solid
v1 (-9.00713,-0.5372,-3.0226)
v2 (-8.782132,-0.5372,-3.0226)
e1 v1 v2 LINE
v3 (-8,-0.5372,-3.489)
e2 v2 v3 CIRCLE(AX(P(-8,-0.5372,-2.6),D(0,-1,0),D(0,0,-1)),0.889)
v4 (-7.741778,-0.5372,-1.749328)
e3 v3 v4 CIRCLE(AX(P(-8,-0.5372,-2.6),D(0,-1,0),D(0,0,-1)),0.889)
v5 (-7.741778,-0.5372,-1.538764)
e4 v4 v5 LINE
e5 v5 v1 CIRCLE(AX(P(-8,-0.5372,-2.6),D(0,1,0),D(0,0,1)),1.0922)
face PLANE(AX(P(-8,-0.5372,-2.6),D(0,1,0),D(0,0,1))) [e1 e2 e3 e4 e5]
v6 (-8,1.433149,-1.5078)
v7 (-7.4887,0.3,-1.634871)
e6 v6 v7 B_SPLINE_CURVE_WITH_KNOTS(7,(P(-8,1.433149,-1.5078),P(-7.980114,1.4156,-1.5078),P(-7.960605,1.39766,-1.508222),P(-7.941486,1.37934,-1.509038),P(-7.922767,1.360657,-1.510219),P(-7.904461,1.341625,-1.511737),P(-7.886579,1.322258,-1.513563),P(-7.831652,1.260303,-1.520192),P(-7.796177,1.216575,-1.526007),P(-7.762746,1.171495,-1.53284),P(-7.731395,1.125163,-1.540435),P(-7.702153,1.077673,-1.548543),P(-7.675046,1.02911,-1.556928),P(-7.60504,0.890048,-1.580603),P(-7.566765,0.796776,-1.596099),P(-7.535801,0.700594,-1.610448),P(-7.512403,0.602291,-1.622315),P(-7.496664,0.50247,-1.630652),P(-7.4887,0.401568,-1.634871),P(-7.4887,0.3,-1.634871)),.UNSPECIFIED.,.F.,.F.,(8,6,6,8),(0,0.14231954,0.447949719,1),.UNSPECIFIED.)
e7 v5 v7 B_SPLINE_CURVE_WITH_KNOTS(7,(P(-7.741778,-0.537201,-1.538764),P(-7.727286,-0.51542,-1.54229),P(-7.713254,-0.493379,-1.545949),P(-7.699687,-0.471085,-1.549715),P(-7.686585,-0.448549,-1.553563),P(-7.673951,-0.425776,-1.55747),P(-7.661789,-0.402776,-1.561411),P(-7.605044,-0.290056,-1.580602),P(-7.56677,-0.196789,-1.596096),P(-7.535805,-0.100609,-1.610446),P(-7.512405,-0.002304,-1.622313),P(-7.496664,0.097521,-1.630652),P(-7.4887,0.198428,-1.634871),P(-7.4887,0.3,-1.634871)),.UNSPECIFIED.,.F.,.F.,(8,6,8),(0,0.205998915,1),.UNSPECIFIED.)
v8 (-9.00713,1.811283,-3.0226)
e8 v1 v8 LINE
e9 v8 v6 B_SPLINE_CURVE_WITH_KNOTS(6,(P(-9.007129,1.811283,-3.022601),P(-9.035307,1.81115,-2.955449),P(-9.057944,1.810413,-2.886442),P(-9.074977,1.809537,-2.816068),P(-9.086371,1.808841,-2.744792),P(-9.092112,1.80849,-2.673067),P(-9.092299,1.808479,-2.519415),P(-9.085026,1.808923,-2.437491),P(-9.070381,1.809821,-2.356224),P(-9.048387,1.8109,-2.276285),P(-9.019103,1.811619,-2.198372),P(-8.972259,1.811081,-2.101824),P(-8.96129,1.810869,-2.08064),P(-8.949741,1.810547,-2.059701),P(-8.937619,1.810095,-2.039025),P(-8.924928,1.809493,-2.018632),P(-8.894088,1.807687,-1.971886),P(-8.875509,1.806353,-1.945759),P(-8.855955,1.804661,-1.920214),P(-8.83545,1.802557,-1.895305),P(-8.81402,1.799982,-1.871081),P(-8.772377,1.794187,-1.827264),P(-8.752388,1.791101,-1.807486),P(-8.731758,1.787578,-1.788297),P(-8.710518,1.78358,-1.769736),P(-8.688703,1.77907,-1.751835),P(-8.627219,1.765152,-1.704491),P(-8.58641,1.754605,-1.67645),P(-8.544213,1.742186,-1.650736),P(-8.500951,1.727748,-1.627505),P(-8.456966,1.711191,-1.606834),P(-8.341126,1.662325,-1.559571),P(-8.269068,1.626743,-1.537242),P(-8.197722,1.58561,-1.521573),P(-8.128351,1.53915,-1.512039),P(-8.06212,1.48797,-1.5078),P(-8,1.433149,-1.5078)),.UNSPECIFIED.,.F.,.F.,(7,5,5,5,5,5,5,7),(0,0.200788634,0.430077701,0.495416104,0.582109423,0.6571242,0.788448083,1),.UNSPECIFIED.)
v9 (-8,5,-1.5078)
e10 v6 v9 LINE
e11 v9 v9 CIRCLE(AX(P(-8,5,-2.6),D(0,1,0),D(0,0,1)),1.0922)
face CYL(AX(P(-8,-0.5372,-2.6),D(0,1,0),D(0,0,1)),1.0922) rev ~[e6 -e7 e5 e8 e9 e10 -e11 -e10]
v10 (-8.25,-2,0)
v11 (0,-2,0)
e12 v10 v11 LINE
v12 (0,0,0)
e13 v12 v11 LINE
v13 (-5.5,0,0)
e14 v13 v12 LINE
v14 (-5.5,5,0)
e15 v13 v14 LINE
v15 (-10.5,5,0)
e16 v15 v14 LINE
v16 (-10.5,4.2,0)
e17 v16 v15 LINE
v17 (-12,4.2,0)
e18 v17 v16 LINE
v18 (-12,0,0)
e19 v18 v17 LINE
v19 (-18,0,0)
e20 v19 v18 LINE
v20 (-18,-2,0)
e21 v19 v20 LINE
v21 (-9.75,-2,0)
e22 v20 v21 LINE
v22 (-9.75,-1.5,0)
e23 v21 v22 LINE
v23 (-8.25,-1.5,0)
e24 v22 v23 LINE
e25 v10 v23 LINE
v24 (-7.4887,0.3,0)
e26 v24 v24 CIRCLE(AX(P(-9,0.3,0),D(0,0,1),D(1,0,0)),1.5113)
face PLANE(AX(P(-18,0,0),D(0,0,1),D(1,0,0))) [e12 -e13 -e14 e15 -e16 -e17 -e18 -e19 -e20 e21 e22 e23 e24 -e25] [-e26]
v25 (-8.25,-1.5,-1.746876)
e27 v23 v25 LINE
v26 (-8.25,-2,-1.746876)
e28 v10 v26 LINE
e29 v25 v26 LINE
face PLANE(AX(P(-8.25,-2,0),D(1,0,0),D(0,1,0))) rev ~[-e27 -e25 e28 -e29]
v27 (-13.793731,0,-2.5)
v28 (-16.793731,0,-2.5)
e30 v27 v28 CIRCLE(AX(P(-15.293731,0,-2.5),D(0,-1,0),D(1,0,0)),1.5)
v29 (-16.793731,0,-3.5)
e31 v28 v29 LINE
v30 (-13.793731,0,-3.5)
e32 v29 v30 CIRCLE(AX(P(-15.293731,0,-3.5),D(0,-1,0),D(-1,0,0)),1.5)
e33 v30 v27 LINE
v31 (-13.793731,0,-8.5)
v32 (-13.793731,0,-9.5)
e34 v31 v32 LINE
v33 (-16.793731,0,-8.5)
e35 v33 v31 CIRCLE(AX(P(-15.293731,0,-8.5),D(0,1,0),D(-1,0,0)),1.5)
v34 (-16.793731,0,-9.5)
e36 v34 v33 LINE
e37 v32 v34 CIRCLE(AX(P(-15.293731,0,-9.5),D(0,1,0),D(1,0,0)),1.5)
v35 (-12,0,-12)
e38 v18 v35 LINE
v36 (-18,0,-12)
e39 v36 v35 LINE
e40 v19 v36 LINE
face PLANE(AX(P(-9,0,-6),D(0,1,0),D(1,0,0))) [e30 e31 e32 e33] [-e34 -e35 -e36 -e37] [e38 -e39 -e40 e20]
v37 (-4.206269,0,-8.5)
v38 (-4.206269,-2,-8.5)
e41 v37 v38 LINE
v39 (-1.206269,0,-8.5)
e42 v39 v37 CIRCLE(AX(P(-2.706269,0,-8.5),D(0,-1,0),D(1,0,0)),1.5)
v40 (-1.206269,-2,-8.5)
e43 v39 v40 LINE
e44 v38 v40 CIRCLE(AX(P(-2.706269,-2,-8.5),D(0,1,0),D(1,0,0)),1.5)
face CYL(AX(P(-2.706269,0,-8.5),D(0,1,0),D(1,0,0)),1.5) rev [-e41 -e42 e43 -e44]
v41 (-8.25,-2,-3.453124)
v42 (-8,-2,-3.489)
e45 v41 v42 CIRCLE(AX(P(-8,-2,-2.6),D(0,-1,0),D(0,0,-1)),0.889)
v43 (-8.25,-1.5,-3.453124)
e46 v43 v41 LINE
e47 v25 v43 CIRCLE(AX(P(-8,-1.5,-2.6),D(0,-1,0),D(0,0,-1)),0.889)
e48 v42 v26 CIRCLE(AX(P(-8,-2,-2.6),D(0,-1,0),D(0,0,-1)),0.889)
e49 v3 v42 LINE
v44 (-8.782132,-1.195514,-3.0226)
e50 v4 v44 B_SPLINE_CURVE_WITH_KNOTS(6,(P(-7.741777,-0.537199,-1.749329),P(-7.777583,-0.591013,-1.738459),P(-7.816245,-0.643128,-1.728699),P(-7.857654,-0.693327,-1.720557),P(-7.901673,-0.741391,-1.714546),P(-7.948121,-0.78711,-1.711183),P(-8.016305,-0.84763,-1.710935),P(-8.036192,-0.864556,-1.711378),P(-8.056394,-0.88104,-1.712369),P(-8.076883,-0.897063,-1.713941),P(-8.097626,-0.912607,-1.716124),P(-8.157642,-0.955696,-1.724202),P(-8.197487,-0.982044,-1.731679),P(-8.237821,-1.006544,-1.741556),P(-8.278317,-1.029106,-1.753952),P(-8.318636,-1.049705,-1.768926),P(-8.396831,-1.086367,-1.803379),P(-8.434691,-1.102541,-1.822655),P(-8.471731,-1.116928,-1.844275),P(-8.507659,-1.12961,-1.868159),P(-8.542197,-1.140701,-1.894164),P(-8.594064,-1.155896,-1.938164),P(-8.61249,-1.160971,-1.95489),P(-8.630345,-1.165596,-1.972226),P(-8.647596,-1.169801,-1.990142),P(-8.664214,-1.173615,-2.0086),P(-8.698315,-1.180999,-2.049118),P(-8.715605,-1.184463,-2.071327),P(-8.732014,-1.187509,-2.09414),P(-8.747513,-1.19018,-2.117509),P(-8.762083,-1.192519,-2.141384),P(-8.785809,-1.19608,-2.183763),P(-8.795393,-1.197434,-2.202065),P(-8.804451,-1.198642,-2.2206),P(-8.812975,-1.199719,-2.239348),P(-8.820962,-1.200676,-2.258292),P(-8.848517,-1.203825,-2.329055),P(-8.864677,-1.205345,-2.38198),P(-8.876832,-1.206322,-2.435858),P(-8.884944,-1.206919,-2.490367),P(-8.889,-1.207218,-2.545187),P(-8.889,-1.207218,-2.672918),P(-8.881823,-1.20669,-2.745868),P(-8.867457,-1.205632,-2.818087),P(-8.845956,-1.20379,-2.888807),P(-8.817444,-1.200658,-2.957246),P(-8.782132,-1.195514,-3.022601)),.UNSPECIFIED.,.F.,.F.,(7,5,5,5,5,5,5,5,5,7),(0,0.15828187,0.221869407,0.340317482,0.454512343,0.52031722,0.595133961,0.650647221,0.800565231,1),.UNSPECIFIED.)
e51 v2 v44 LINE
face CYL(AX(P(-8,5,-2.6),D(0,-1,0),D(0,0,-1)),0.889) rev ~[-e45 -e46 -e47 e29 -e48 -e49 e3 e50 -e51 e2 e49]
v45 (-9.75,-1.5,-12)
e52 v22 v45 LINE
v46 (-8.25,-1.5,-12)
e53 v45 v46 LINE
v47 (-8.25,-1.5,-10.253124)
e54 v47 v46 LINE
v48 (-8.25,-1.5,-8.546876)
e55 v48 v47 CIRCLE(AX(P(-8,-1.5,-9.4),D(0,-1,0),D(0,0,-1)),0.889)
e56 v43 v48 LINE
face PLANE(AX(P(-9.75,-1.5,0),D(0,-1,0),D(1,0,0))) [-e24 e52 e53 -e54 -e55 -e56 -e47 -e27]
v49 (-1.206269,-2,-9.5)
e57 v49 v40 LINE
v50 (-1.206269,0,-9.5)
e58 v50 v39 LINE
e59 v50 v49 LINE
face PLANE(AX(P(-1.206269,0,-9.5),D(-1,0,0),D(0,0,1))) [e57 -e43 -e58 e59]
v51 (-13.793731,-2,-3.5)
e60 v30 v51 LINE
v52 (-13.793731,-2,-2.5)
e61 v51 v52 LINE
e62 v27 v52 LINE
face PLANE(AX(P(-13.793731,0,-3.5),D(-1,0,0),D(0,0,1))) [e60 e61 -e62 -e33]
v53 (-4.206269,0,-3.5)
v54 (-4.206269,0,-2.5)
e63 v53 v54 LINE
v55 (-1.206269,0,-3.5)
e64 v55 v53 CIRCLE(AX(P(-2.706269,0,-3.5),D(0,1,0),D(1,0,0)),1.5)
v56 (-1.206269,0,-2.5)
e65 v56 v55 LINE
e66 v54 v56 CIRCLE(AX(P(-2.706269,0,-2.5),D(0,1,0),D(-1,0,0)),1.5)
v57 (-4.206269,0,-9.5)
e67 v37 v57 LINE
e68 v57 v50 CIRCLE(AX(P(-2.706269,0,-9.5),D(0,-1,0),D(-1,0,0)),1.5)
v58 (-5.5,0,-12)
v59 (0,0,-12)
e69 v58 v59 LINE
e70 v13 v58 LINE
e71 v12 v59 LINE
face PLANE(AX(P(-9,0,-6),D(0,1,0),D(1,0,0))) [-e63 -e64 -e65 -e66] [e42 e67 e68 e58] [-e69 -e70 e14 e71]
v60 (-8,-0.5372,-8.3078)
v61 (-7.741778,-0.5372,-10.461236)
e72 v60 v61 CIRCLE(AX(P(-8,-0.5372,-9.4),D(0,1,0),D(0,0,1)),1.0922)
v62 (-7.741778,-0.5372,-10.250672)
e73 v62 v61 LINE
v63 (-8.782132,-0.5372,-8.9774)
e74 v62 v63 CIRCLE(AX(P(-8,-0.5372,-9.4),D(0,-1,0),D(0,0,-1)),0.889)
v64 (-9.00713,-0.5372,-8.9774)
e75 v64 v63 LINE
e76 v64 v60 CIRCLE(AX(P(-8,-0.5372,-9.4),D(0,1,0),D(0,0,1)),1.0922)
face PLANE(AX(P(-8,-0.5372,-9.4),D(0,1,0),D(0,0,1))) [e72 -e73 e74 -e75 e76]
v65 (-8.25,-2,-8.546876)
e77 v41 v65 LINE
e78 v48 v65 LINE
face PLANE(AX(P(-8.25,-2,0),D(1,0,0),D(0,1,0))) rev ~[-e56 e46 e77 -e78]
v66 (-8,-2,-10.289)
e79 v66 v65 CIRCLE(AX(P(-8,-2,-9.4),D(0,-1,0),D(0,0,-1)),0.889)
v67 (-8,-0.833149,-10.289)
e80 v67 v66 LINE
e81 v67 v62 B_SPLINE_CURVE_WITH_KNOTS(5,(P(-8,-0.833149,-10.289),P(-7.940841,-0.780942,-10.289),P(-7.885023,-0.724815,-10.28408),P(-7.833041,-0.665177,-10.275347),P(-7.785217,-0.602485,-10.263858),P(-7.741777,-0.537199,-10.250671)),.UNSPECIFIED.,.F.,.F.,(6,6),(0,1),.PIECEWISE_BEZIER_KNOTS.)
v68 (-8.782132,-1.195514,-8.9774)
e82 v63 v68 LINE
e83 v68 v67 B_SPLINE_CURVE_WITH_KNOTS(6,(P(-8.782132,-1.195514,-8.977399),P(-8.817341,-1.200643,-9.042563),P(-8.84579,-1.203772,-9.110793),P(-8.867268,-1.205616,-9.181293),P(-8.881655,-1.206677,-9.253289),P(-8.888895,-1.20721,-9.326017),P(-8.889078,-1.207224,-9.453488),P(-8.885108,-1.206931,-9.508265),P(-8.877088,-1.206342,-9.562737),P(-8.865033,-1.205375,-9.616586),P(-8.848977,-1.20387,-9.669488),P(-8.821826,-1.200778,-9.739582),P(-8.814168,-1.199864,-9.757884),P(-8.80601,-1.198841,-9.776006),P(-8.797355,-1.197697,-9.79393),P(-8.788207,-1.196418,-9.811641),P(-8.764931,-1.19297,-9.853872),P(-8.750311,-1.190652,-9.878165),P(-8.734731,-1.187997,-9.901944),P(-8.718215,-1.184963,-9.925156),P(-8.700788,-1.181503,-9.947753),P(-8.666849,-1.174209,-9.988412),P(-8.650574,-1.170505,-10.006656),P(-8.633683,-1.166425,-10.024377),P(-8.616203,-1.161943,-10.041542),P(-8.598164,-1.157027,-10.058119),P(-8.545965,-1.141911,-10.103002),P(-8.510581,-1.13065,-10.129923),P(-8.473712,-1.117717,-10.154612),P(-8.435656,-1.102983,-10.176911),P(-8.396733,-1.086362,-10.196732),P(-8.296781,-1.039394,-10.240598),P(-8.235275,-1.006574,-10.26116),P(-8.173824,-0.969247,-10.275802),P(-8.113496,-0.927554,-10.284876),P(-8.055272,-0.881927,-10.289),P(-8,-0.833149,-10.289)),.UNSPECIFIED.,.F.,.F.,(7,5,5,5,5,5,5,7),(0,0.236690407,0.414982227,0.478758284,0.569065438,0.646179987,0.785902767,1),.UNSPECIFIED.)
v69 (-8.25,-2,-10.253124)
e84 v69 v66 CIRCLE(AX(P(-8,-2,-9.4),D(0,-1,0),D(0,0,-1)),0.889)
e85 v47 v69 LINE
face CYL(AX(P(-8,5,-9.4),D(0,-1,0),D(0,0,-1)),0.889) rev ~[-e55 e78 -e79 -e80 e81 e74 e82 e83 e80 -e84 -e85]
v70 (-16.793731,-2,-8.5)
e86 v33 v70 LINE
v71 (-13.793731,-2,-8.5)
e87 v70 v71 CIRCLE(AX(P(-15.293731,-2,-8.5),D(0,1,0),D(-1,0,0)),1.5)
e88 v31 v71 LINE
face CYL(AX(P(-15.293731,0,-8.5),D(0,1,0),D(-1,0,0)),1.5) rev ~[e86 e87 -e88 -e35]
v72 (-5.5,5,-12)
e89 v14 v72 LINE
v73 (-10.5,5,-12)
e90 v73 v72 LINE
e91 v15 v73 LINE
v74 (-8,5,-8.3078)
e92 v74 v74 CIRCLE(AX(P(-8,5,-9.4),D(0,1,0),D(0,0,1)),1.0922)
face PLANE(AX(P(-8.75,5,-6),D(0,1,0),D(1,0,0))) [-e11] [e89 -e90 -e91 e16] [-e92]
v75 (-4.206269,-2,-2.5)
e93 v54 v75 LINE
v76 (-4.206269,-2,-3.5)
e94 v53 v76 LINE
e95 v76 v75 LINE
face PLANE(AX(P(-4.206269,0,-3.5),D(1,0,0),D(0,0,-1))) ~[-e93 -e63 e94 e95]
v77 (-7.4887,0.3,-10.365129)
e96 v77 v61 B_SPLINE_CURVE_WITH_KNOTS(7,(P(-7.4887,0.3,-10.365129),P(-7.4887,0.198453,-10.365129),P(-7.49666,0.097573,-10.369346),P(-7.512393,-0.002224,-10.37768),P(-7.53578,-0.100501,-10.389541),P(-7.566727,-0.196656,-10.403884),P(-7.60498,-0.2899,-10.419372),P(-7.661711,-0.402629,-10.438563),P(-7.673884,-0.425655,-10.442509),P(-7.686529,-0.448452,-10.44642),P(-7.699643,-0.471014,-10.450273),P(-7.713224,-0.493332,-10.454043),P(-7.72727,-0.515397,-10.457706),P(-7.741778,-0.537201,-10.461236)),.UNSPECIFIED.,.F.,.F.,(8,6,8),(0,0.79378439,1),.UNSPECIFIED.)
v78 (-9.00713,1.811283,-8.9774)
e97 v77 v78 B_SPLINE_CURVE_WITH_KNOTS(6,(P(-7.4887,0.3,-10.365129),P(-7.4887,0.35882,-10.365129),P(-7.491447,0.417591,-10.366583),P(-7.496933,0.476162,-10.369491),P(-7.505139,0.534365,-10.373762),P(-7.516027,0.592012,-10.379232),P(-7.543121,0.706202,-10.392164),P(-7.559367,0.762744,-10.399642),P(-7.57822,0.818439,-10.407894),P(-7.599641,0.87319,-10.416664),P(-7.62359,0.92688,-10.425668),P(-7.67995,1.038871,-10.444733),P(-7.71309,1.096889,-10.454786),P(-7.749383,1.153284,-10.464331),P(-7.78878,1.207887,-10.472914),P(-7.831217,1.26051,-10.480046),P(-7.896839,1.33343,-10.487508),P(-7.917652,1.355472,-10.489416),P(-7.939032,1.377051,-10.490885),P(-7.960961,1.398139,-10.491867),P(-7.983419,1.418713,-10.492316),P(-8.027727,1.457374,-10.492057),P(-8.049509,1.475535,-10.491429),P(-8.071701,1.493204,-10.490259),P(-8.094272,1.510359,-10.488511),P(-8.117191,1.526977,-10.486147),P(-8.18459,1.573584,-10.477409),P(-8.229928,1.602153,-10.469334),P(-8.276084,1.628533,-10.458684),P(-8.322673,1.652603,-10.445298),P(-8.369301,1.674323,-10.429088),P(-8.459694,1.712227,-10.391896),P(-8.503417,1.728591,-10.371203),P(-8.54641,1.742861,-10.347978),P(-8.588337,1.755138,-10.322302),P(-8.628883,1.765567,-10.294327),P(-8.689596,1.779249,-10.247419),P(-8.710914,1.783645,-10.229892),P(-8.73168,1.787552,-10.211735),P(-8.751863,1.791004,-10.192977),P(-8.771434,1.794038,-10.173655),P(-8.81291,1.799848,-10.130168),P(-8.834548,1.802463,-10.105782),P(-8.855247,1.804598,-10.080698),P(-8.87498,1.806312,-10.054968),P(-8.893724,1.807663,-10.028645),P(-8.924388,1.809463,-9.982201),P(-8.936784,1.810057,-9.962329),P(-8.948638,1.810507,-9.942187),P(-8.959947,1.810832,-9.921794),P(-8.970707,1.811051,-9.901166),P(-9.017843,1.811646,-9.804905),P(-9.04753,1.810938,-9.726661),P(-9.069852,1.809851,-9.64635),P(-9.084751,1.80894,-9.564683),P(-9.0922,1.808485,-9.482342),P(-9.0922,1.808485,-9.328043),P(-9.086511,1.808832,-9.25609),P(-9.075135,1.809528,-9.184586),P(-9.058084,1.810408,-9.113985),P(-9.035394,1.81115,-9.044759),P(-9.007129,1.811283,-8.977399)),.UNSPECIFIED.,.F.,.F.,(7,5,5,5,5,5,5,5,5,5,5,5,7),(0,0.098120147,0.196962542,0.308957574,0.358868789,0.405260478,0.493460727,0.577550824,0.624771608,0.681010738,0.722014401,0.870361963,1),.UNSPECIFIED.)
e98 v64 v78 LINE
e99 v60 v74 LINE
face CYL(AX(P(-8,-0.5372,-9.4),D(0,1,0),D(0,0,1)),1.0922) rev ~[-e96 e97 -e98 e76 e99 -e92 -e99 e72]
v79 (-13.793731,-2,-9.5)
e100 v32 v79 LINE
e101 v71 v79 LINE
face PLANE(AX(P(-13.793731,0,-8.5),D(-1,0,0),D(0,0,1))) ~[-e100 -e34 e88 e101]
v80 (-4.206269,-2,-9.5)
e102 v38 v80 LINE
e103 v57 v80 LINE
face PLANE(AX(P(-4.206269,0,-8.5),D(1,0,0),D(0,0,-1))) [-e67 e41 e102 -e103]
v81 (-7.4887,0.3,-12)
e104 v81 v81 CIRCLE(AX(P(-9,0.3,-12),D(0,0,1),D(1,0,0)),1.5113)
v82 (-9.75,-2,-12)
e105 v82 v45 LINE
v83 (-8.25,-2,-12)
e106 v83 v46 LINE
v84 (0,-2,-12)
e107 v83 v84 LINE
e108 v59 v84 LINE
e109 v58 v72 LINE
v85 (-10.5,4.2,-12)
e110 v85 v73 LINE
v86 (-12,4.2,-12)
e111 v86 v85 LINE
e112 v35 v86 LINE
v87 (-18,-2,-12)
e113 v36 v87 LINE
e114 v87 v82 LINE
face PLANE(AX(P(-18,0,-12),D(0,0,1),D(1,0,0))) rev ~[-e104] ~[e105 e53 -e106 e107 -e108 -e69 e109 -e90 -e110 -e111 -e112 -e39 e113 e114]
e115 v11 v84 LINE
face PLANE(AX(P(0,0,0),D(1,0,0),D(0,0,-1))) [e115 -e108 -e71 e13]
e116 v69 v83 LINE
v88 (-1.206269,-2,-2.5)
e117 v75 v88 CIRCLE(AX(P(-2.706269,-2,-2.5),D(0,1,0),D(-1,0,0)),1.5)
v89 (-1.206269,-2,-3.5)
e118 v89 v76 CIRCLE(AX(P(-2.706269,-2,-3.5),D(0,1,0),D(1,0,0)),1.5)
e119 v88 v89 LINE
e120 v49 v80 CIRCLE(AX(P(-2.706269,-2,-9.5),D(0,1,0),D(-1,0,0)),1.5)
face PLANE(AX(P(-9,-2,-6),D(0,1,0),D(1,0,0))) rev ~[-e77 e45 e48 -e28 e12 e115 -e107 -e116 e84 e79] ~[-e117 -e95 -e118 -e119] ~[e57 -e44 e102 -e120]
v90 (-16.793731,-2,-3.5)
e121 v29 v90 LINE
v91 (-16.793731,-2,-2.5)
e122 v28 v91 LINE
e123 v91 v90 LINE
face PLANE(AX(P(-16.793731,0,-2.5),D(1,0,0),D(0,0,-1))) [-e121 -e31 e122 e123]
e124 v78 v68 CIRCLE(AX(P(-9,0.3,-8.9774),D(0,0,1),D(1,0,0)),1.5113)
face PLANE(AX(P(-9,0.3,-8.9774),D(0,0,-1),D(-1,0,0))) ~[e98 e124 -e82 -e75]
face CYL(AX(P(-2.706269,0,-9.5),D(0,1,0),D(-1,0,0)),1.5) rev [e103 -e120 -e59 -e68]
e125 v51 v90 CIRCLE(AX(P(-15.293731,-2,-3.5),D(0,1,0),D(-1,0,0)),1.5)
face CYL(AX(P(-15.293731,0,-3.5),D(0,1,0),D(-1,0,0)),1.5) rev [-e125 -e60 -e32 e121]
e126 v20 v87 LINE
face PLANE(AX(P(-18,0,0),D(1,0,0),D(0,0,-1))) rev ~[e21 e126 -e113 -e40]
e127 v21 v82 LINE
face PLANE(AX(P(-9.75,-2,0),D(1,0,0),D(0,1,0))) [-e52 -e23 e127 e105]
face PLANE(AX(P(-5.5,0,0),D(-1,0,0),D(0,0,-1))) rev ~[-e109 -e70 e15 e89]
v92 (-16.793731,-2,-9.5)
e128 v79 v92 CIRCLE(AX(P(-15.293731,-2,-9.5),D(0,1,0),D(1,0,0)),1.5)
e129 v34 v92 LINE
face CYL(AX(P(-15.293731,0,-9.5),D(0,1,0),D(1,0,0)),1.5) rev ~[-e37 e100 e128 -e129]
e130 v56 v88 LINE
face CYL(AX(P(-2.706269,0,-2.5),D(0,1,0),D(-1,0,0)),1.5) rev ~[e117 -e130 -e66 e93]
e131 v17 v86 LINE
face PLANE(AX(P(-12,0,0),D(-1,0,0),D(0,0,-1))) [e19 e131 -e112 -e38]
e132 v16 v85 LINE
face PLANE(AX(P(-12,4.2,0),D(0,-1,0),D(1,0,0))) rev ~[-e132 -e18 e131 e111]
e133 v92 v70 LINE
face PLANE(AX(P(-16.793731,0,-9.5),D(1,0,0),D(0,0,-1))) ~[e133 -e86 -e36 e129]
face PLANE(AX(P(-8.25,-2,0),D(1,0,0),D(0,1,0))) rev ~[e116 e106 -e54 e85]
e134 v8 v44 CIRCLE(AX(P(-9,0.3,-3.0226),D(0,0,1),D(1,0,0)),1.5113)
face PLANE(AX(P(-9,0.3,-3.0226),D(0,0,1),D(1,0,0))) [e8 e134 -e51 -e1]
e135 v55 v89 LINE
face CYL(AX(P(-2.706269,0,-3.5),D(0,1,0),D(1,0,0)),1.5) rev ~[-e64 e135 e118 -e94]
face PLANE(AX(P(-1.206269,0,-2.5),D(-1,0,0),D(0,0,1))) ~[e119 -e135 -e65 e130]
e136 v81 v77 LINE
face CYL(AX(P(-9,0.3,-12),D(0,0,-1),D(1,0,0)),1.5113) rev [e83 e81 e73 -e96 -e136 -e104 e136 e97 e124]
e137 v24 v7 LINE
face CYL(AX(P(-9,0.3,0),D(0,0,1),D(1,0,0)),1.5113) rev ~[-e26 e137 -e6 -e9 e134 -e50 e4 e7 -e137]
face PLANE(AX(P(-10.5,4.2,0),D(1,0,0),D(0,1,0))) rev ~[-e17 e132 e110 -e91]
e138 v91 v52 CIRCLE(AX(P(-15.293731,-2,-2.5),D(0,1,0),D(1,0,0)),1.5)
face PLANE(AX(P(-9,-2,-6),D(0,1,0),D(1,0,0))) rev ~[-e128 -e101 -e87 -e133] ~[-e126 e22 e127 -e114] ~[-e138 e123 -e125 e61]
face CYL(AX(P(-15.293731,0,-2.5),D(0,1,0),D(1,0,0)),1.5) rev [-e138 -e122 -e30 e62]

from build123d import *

# Parameters (mm, degrees)
SKETCH1_W                       = 18
SKETCH1_H                       = 12
EXTRUDE1_DEPTH                  = 2
SKETCH2_W                       = 1.5
SKETCH2_H                       = 0.5
EXTRUDE2_DEPTH                  = 13
EXTRUDE3_DEPTH                  = 3
MIRROR2_COPY_1_DEPTH            = 3
SKETCH4_W                       = 6.5
SKETCH4_H                       = 12
EXTRUDE4_DEPTH                  = 5
SKETCH5_W                       = 1.5
SKETCH5_H                       = 0.8
EXTRUDE5_DEPTH                  = 13
F_2_56_TAPPED_HOLE1_D           = 1.778
F_2_56_TAPPED_HOLE1_DEPTH       = 9.4488
F_2_56_TAPPED_HOLE1_CBORE_D     = 2.1844
F_2_56_TAPPED_HOLE1_CBORE_DEPTH = 5.5372
F_2_56_TAPPED_HOLE1_TIP         = 0.53416509
SKETCH7_R                       = 1.5113
EXTRUDE6_DEPTH                  = 3.0226


with BuildPart() as part:
    # Sketch1 → Extrude1 (new body)
    with BuildSketch(Plane(origin=(0, 0, 0), x_dir=(1, 0, 0), z_dir=(0, 1, 0))):
        with Locations((-9, 6)):
            Rectangle(SKETCH1_W, SKETCH1_H)
    extrude(amount=-EXTRUDE1_DEPTH)

    # Sketch2 → Extrude2 (cut, through all)
    with BuildSketch(Plane.XY):
        with Locations((-9, -1.75)):
            Rectangle(SKETCH2_W, SKETCH2_H)
    extrude(amount=-EXTRUDE2_DEPTH, mode=Mode.SUBTRACT)

    # Sketch3 → Extrude3 (cut, through all)
    with BuildSketch(Plane(origin=(0, 0, 0), x_dir=(1, 0, 0), z_dir=(0, 1, 0))):
        with BuildLine():
            Line((-16.793731354, 2.5), (-16.793731354, 3.5))
            ThreePointArc((-16.793731354, 3.5), (-15.293731354, 5), (-13.793731354, 3.5))
            Line((-13.793731354, 3.5), (-13.793731354, 2.5))
            ThreePointArc((-13.793731354, 2.5), (-15.293731354, 1), (-16.793731354, 2.5))
        make_face()
    extrude3 = extrude(amount=-EXTRUDE3_DEPTH, mode=Mode.SUBTRACT)

    # Mirror1: Extrude3 across plane
    add(extrude3.mirror(Plane(origin=(0, 0, -6), x_dir=(1, 0, 0), z_dir=(0, 0, -1))), mode=Mode.SUBTRACT)

    # Mirror2: Extrude3 across plane
    add(extrude3.mirror(Plane(origin=(-9, 0, 0), x_dir=(0, 0, 1), z_dir=(1, 0, 0))), mode=Mode.SUBTRACT)

    # Mirror2 copy 1 sketch → Mirror2 copy 1 (cut, through all)
    with BuildSketch(Plane(origin=(-18, 0, -12), x_dir=(-1, 0, 0), z_dir=(0, 1, 0))):
        with BuildLine():
            Line((-16.793731354, 2.5), (-16.793731354, 3.5))
            ThreePointArc((-16.793731354, 3.5), (-15.293731354, 5), (-13.793731354, 3.5))
            Line((-13.793731354, 3.5), (-13.793731354, 2.5))
            ThreePointArc((-13.793731354, 2.5), (-15.293731354, 1), (-16.793731354, 2.5))
        make_face()
    extrude(amount=-MIRROR2_COPY_1_DEPTH, mode=Mode.SUBTRACT)

    # Sketch4 → Extrude4 (add)
    with BuildSketch(Plane(origin=(0, 0, 0), x_dir=(1, 0, 0), z_dir=(0, 1, 0))):
        with Locations((-8.75, 6)):
            Rectangle(SKETCH4_W, SKETCH4_H)
    extrude(amount=EXTRUDE4_DEPTH)

    # Sketch5 → Extrude5 (cut, through all)
    with BuildSketch(Plane.XY):
        with Locations((-11.25, 4.6)):
            Rectangle(SKETCH5_W, SKETCH5_H)
    extrude(amount=-EXTRUDE5_DEPTH, mode=Mode.SUBTRACT)

    # #2-56 Tapped Hole1
    with Locations(Plane(origin=(-8, 5, -2.6), x_dir=(0, 0, 1), z_dir=(0, 1, 0))):
        with Locations((0, 0), (-6.8, 0)):
            CounterBoreHole(F_2_56_TAPPED_HOLE1_D / 2, F_2_56_TAPPED_HOLE1_CBORE_D / 2, F_2_56_TAPPED_HOLE1_CBORE_DEPTH, depth=F_2_56_TAPPED_HOLE1_DEPTH)
            with Locations((0, 0, -(F_2_56_TAPPED_HOLE1_DEPTH + F_2_56_TAPPED_HOLE1_TIP / 2))):  # 118° drill point
                Cone(0, F_2_56_TAPPED_HOLE1_D / 2, F_2_56_TAPPED_HOLE1_TIP, mode=Mode.SUBTRACT)

    # Sketch7 → Extrude6 (cut)
    with BuildSketch(Plane.XY):
        with Locations((-9, 0.3)):
            Circle(SKETCH7_R)
    extrude6 = extrude(amount=-EXTRUDE6_DEPTH, mode=Mode.SUBTRACT)

    # Mirror3: Extrude6 across plane
    add(extrude6.mirror(Plane(origin=(0, 0, -6), x_dir=(1, 0, 0), z_dir=(0, 0, -1))), mode=Mode.SUBTRACT)


solid = part.part
